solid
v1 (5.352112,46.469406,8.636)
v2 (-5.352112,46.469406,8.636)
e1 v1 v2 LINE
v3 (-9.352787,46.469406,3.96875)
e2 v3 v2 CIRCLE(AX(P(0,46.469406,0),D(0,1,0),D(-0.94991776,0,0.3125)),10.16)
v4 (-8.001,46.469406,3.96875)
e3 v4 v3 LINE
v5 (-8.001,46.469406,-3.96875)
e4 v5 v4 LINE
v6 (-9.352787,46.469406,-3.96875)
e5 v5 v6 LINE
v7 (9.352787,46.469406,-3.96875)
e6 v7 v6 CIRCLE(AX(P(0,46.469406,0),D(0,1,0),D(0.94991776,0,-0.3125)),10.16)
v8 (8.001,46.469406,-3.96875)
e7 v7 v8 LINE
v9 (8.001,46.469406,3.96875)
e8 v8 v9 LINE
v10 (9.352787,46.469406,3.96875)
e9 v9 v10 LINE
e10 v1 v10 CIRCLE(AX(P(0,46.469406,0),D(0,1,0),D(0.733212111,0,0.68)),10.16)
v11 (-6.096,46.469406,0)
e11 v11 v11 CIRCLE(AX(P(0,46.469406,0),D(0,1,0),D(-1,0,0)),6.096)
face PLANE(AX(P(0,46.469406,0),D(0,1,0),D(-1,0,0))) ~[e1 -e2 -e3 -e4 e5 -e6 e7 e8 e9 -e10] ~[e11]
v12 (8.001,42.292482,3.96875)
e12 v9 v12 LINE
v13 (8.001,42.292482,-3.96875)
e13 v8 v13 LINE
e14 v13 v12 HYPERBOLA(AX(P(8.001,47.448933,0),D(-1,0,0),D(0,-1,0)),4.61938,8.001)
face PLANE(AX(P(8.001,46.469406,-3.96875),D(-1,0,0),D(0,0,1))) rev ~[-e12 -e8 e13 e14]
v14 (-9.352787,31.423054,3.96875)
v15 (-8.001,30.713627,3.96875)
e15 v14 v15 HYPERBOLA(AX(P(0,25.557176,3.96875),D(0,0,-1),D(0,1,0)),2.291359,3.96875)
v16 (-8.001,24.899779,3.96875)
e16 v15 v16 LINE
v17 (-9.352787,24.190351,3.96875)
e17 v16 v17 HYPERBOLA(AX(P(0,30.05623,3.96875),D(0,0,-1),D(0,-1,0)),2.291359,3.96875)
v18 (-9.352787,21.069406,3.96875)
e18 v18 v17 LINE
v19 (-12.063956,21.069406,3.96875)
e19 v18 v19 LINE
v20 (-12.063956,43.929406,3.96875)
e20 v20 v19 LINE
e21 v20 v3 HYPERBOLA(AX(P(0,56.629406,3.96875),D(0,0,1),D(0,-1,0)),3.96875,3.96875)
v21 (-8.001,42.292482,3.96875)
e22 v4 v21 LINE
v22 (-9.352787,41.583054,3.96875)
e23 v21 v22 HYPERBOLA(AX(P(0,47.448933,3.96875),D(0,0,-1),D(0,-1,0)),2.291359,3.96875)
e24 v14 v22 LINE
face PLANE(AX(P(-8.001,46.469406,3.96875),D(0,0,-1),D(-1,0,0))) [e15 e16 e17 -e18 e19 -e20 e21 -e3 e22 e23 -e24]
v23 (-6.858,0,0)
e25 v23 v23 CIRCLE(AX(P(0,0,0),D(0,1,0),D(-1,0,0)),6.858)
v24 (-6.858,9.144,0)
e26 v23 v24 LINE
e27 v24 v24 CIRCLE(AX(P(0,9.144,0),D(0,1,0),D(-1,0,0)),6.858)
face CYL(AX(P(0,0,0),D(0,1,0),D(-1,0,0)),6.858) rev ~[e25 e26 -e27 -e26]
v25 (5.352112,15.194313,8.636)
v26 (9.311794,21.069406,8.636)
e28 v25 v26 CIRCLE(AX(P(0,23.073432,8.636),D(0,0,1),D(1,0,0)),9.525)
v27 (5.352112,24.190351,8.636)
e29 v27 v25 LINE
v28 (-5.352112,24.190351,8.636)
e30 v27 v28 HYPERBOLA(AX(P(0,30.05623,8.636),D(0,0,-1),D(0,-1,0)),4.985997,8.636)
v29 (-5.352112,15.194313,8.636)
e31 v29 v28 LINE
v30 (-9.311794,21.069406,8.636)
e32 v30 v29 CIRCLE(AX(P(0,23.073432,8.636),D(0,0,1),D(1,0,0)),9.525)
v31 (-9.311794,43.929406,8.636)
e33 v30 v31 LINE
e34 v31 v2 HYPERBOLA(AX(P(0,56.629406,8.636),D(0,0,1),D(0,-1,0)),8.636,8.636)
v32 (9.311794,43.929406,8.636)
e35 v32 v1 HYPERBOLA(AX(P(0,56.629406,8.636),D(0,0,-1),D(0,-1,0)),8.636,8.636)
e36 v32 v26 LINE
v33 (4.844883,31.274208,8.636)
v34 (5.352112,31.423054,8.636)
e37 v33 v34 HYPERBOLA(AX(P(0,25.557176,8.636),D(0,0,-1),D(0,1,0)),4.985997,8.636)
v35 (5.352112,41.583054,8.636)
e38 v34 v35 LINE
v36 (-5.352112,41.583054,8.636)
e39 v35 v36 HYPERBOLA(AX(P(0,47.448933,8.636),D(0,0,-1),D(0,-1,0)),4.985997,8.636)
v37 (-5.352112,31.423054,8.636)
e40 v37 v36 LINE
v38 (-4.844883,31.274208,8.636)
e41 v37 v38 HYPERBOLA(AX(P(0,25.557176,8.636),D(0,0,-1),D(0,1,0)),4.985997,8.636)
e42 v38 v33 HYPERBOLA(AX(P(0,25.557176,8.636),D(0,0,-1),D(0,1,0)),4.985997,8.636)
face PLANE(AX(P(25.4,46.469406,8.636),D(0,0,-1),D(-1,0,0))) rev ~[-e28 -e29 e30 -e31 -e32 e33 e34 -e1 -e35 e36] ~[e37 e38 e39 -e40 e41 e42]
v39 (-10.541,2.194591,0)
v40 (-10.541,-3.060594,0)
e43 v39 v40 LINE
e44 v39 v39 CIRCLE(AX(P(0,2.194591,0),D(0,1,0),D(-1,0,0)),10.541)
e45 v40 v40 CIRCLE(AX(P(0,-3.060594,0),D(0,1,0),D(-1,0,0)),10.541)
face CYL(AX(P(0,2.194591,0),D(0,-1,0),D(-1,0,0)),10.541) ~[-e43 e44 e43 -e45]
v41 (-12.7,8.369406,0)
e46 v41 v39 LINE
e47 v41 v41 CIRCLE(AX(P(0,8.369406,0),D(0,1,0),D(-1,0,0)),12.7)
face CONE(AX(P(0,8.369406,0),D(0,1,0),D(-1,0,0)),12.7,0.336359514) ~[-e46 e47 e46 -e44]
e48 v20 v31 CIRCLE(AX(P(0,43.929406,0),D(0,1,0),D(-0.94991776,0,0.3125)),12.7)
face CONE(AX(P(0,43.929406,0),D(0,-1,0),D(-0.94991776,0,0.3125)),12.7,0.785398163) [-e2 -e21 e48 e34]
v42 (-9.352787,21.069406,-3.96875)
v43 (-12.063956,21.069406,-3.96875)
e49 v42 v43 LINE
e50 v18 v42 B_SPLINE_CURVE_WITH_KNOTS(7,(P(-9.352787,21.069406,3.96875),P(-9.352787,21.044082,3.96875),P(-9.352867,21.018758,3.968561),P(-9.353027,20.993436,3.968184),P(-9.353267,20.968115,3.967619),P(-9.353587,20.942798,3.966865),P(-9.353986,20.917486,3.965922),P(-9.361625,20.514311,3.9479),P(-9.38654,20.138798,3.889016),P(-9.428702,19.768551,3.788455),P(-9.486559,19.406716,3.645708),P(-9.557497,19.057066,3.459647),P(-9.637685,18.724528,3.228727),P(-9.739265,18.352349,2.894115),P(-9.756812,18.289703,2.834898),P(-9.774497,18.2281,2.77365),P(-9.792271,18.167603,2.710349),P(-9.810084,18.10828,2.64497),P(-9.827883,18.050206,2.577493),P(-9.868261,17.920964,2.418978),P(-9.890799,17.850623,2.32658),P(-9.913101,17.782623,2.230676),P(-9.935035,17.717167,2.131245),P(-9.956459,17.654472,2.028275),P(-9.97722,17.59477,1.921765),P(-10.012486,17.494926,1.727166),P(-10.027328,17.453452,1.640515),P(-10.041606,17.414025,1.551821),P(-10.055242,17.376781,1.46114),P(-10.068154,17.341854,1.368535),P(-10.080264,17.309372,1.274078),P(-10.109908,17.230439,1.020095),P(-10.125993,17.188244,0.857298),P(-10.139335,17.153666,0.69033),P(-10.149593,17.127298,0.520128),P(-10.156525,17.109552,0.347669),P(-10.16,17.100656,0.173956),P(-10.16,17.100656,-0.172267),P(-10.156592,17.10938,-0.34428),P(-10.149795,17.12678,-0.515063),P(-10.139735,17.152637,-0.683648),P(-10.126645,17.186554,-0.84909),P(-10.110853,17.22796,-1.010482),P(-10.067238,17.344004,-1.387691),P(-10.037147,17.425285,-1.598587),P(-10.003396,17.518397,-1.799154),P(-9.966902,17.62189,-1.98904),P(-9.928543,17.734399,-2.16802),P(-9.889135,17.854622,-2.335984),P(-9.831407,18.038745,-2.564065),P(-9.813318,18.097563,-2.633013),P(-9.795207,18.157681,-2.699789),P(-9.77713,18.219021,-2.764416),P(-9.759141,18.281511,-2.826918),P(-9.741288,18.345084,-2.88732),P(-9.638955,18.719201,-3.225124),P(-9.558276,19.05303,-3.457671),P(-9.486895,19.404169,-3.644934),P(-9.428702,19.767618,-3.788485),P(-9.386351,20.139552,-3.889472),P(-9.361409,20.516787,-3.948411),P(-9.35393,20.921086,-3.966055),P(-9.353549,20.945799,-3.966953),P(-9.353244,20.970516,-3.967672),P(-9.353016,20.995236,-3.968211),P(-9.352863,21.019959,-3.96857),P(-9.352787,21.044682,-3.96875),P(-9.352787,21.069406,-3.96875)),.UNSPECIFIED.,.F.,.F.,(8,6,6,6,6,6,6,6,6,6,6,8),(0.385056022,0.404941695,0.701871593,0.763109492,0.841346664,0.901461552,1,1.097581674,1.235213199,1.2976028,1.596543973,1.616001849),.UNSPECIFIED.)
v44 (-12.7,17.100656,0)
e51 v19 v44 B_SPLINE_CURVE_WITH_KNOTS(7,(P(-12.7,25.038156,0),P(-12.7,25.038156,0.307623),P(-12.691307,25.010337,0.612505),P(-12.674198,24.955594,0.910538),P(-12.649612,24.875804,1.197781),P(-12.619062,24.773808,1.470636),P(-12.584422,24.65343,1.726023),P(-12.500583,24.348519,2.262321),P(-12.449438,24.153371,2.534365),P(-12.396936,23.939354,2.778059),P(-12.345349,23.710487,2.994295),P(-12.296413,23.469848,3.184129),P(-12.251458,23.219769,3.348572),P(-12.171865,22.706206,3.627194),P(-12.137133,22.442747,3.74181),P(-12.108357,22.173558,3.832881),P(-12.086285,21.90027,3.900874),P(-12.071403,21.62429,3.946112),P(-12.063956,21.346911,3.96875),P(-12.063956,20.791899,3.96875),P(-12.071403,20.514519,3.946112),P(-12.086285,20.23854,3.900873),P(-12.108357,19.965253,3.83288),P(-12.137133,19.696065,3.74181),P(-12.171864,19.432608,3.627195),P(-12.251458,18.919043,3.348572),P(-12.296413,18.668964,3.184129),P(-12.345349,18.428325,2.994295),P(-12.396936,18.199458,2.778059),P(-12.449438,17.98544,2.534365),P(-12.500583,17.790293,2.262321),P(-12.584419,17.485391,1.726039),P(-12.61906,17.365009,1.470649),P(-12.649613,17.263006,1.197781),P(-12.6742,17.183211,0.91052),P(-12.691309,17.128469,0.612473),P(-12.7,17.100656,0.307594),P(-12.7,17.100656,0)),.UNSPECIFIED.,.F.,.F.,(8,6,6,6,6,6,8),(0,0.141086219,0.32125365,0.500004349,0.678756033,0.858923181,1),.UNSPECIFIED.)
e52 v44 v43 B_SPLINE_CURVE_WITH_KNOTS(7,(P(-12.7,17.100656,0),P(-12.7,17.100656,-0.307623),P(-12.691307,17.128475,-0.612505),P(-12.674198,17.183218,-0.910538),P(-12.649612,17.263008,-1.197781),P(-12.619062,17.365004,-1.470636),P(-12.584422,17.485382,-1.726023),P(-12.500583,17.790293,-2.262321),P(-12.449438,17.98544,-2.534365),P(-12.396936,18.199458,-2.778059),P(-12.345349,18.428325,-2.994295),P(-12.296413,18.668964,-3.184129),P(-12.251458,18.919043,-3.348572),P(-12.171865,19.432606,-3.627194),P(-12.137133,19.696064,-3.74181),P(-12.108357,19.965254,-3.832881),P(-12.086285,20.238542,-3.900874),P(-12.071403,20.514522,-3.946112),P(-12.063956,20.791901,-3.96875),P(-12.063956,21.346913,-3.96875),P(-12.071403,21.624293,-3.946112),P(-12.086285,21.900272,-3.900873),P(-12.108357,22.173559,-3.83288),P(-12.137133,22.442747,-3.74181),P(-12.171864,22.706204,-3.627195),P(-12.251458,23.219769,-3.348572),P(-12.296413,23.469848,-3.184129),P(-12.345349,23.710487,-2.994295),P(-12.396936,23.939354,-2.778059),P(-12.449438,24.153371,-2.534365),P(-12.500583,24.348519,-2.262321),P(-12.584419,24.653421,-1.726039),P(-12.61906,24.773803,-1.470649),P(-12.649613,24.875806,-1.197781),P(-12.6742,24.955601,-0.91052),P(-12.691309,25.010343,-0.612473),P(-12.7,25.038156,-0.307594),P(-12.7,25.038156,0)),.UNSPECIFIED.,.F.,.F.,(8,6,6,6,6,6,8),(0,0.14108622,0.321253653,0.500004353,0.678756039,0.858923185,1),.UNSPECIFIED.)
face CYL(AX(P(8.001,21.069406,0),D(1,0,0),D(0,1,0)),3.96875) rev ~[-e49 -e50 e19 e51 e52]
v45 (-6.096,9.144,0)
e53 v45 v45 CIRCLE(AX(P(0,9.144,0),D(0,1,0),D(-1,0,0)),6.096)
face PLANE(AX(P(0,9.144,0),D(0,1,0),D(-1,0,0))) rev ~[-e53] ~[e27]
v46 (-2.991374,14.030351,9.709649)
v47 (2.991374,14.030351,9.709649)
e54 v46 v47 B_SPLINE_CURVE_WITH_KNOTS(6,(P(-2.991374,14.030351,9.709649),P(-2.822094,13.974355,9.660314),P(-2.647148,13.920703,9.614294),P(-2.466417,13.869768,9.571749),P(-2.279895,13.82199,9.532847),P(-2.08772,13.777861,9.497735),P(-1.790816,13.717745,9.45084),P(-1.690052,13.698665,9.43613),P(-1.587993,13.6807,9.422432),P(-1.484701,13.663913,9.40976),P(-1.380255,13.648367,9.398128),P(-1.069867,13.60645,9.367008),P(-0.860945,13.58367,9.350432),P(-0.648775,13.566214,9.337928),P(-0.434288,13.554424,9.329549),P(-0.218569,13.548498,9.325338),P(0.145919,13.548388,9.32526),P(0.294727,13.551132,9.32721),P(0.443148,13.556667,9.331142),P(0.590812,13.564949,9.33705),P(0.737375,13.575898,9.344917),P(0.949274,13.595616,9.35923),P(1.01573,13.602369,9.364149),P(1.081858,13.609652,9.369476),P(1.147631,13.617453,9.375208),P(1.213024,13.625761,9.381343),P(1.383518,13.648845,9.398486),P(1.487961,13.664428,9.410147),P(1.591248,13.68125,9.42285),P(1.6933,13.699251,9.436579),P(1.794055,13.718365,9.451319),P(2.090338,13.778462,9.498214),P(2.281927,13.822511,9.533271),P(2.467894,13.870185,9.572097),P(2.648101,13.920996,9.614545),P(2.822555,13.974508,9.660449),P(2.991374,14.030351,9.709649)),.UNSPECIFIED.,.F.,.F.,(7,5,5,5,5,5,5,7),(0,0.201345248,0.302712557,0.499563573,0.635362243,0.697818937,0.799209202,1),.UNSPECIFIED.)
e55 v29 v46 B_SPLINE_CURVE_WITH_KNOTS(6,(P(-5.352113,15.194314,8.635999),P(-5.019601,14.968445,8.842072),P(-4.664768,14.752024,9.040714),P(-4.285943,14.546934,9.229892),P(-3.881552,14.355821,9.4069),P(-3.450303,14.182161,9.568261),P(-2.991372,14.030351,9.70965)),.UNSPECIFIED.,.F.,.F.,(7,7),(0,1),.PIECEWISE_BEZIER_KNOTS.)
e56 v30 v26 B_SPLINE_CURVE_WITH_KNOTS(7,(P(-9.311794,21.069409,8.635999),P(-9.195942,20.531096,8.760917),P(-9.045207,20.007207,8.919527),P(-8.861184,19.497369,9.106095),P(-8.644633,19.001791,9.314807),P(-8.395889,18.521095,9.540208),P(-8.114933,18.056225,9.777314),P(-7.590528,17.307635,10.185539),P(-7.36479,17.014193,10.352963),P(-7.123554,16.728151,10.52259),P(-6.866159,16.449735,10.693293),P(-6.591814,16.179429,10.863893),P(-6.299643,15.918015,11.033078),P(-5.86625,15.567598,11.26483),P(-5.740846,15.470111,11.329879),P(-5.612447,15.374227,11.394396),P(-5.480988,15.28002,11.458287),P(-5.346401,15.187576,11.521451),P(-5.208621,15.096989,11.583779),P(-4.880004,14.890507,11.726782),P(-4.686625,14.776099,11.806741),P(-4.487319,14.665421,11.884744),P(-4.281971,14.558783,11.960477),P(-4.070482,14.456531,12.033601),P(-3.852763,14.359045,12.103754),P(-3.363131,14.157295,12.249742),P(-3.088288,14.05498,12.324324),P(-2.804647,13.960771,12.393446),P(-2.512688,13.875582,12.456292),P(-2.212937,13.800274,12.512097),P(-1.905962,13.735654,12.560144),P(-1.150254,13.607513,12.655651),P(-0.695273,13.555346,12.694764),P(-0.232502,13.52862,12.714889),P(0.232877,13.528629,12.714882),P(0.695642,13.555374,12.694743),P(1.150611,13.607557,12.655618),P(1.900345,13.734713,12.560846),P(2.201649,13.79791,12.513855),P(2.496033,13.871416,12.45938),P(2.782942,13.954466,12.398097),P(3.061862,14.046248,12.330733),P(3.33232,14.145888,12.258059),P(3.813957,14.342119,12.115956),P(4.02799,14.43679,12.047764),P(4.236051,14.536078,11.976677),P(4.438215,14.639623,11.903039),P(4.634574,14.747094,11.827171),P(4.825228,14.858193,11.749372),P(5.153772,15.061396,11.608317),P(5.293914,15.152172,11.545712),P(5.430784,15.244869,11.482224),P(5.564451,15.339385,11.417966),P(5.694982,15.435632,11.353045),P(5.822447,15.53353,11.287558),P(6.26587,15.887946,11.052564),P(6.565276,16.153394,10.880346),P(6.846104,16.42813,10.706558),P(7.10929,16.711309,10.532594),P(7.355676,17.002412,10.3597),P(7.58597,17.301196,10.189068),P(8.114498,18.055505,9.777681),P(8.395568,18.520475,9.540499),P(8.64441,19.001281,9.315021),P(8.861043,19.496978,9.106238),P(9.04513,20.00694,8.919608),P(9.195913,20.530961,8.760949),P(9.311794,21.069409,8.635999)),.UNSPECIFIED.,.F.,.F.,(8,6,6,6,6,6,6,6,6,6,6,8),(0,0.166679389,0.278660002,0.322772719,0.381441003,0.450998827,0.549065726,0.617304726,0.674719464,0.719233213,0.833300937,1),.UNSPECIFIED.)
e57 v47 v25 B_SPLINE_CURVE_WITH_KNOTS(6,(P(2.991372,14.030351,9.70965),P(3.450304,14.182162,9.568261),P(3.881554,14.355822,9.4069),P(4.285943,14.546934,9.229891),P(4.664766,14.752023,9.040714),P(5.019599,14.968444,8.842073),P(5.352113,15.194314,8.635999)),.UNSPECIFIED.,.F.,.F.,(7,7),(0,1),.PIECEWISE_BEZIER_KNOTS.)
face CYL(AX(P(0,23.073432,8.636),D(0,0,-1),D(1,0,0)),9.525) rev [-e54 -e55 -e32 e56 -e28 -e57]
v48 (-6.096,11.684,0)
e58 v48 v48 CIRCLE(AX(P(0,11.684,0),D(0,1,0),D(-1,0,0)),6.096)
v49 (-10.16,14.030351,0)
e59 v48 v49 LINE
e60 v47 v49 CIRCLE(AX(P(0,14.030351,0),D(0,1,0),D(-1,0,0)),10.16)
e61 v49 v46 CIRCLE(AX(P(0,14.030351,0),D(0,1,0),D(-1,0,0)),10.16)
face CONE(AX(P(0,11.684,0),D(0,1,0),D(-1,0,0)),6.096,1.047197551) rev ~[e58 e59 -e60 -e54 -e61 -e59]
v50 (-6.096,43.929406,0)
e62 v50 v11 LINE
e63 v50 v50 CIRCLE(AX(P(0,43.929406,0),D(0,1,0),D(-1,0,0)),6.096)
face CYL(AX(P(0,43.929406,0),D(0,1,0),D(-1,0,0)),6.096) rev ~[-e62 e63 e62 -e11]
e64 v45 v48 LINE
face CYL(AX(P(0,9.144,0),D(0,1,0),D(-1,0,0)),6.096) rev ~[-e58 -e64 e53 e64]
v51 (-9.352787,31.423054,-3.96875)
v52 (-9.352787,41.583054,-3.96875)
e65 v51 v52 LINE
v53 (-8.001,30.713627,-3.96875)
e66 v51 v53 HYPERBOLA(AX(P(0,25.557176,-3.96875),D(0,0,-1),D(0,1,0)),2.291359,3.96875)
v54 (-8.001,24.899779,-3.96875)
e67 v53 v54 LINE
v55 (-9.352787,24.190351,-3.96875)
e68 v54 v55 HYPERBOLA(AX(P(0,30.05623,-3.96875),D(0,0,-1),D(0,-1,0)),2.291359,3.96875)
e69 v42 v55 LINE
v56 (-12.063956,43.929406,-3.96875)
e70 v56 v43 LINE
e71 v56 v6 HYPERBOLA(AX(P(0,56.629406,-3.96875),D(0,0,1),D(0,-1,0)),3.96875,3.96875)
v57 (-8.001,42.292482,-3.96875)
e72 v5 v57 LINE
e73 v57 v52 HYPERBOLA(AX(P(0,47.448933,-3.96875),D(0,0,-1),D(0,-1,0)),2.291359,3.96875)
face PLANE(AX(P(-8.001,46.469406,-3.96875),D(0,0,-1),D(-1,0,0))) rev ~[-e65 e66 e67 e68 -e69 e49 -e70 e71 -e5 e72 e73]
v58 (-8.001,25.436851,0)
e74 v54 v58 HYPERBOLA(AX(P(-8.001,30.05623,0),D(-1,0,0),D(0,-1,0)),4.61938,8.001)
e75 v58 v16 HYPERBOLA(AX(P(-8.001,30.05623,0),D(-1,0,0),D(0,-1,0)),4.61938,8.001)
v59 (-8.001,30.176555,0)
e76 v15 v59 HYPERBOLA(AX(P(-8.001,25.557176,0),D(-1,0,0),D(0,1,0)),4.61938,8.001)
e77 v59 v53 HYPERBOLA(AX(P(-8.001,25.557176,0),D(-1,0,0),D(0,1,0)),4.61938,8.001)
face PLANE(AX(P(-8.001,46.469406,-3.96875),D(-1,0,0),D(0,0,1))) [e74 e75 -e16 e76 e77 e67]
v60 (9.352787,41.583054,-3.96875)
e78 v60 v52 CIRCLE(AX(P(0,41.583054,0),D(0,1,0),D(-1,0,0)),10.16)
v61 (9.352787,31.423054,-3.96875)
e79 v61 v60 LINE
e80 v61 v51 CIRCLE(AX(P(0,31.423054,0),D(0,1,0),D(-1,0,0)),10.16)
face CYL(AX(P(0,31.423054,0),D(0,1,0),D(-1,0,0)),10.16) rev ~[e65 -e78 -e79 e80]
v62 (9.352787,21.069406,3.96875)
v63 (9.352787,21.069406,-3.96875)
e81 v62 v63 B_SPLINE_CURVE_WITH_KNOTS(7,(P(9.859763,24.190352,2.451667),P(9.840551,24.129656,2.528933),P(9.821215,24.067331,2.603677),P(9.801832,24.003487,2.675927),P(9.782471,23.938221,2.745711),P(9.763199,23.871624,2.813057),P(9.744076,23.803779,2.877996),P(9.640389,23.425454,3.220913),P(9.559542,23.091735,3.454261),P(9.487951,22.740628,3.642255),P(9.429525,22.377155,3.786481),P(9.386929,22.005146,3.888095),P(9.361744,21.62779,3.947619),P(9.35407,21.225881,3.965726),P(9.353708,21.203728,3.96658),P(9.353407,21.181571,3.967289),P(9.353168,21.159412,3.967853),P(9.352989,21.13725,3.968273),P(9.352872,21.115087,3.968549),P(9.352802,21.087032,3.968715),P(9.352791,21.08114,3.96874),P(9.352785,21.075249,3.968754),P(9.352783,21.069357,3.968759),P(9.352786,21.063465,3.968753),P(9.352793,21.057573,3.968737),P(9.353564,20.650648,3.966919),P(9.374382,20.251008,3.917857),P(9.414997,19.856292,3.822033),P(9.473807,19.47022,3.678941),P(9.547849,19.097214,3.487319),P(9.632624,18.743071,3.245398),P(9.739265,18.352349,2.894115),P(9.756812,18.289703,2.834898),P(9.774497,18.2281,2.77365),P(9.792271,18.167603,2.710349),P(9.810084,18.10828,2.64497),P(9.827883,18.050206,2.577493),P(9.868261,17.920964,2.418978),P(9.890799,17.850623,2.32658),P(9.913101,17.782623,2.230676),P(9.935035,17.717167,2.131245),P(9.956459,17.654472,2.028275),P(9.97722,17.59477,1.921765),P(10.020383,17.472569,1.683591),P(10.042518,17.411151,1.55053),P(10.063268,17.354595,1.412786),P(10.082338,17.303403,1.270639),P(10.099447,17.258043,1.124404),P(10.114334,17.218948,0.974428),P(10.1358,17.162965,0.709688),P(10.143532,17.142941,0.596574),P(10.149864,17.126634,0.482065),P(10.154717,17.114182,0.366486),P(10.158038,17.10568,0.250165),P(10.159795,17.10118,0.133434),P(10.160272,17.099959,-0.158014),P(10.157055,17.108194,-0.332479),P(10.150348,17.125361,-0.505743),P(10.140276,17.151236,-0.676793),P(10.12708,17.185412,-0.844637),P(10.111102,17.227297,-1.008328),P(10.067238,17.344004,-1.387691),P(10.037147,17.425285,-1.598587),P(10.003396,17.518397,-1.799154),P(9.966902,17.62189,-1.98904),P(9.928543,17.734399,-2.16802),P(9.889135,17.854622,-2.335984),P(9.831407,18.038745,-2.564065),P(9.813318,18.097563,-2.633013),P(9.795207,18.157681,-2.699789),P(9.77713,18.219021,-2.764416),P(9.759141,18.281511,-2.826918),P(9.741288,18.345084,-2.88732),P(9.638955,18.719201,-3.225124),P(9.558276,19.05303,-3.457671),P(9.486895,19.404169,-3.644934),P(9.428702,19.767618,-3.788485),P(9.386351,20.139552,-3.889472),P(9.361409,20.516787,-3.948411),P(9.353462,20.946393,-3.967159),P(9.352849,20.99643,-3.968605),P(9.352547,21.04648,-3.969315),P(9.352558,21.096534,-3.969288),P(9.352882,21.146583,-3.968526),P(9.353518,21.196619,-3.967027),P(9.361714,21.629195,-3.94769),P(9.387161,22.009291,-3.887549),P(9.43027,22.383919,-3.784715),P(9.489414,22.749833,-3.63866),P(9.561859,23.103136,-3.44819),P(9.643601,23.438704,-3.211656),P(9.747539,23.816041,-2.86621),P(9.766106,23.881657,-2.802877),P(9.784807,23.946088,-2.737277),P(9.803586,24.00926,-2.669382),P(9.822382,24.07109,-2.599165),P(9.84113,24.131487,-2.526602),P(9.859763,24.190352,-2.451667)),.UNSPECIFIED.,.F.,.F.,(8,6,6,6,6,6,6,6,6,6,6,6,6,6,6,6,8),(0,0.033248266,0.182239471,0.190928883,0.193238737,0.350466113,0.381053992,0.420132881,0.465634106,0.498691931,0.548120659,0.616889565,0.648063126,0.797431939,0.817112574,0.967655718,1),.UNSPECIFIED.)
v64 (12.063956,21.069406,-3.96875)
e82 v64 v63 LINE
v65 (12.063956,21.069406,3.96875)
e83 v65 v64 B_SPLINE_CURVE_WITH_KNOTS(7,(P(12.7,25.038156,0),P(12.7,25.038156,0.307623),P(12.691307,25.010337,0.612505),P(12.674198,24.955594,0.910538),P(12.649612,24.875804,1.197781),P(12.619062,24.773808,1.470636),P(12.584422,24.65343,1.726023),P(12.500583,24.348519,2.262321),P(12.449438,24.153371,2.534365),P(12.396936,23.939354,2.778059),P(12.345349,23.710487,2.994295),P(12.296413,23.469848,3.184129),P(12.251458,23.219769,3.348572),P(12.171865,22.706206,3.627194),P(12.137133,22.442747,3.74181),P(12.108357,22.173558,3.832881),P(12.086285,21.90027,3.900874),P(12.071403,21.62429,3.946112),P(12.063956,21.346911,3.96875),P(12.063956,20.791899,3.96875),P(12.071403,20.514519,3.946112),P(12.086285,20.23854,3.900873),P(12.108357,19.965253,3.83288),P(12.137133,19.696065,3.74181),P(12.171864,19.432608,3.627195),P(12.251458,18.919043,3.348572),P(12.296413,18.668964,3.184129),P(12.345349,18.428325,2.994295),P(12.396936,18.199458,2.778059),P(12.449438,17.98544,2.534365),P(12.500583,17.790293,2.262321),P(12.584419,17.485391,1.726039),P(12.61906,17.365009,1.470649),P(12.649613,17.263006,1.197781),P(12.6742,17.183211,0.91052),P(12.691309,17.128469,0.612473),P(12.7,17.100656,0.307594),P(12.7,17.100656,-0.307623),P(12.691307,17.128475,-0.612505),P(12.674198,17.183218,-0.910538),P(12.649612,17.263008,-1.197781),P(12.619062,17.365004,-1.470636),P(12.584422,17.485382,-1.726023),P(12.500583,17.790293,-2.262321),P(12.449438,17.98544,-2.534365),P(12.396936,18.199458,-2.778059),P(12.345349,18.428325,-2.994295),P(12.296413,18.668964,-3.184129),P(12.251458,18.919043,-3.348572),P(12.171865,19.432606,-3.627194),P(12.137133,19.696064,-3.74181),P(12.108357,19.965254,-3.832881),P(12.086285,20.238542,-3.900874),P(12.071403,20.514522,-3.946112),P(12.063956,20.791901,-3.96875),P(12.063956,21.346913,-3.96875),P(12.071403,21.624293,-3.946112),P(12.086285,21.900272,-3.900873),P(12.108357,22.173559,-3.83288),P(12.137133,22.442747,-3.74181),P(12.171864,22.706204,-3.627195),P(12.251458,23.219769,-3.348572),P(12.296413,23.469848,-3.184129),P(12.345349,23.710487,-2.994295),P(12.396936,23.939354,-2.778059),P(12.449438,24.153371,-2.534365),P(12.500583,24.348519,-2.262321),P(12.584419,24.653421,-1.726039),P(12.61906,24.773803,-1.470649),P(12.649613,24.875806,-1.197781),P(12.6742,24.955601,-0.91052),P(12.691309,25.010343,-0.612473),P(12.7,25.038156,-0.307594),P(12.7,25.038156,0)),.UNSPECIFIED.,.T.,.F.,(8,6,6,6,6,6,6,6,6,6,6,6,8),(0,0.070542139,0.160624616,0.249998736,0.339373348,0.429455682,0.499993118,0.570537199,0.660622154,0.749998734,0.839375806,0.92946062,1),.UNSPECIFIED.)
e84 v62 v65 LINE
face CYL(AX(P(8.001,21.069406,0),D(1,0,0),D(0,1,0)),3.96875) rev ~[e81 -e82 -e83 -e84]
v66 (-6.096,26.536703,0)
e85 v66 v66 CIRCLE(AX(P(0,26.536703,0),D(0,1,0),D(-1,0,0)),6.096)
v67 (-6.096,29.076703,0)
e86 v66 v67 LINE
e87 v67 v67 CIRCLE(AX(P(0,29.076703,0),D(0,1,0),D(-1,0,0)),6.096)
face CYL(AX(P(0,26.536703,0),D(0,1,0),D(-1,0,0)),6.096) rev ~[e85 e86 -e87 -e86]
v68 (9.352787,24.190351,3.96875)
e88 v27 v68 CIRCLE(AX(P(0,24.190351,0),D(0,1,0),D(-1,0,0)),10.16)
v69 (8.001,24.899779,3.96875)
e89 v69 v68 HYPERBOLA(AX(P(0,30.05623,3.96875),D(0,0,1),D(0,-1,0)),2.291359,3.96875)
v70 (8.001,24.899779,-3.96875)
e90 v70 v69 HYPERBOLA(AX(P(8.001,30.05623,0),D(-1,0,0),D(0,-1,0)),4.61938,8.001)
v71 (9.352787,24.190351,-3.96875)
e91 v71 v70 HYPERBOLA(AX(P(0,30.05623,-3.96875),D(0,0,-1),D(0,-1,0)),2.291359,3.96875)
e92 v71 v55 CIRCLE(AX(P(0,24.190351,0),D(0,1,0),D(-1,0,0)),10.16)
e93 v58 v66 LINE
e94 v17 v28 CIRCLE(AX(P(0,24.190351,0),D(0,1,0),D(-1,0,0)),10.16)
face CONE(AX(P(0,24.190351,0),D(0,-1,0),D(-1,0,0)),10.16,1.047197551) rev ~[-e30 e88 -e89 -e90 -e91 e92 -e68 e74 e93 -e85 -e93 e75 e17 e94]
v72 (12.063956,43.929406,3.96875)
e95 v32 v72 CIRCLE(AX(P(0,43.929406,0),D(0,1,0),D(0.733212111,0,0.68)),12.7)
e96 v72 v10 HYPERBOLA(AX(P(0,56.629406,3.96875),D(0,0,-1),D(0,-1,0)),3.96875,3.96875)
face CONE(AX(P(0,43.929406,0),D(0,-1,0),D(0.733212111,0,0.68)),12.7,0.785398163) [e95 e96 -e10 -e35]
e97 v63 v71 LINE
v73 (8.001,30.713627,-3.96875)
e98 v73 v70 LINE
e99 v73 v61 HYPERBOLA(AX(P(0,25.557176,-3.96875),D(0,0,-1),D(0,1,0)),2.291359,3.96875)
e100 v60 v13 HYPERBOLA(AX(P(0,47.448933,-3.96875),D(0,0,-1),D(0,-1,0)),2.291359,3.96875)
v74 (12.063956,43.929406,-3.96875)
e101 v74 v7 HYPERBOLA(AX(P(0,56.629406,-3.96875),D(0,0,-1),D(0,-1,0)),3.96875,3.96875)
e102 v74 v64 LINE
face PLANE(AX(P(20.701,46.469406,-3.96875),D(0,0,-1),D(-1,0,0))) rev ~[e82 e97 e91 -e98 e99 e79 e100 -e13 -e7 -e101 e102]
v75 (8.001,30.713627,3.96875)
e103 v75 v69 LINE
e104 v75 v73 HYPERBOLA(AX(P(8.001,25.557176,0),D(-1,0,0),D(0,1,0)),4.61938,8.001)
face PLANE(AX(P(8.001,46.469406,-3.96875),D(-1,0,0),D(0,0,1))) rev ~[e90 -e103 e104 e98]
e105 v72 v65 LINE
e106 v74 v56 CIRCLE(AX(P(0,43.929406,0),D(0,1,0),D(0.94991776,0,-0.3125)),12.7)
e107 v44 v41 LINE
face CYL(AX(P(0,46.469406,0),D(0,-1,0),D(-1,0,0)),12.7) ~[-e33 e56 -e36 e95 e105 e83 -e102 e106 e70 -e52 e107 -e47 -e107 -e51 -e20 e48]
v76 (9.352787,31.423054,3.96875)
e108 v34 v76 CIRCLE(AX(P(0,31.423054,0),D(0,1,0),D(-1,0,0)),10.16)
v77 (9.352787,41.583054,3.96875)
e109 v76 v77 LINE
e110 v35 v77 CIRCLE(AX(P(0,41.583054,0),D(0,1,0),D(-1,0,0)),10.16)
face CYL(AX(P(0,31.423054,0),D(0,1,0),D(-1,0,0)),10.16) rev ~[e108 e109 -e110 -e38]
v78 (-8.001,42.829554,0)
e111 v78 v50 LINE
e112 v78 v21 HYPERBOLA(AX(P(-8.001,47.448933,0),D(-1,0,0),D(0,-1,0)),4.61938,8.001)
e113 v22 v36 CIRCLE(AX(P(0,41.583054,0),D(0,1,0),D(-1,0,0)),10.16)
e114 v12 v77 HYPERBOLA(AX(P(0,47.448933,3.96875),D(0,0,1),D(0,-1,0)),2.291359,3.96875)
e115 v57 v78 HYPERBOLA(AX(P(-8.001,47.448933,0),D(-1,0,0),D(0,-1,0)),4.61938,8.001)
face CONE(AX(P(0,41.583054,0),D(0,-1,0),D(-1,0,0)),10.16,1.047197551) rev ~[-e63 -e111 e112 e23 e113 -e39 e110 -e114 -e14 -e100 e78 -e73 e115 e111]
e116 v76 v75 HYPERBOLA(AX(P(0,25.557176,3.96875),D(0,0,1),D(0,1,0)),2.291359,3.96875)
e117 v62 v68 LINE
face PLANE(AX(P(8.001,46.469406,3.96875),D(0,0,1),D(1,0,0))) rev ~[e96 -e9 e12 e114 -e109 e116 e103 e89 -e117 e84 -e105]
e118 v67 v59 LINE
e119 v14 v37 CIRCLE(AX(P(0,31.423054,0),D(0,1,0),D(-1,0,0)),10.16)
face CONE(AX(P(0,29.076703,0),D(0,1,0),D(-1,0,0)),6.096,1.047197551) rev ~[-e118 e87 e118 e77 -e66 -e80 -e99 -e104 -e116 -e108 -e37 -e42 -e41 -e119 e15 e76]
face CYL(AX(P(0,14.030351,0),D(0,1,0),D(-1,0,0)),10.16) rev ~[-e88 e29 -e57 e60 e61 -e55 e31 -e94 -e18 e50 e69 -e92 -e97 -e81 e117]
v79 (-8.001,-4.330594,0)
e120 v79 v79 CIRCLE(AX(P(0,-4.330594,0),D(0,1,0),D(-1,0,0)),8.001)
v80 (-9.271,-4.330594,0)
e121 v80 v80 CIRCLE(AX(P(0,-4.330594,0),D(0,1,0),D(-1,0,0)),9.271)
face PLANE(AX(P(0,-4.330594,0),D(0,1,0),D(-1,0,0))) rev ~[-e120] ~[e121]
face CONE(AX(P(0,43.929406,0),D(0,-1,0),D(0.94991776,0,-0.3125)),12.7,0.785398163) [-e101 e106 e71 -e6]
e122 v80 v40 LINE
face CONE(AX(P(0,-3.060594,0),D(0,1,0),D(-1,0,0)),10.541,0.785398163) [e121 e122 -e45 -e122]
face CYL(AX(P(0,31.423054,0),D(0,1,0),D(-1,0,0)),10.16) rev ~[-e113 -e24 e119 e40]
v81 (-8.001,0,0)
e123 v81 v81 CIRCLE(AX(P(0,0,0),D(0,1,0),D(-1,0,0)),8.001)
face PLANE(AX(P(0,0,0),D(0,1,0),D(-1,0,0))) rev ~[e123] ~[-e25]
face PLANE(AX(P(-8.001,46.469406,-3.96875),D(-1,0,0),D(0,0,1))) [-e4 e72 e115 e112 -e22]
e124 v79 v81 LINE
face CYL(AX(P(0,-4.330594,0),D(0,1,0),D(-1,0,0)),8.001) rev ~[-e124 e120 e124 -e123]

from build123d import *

# Parameters (mm, degrees)
F3_DEPTH  = 25.4
F4_W      = 12.7
F4_H      = 7.9375
F5_DEPTH  = 25.4
F6_SIZE   = 2.54
F7_R      = 9.525
F8_DEPTH  = 25.4
F9_SIZE   = 1.27
F10_R     = 3.96875
F11_DEPTH = 25.4


with BuildPart() as f1:
    # F0 (on Top) → F1 (revolve)
    with BuildSketch(Plane.XY):
        Polygon((-12.7, 8.3694059759), (-10.541, 2.1945910865), (-10.541, -4.3305940241), (-8.001, -4.3305940241), (-8.001, 0), (-6.858, 0), (-6.858, 9.144), (-6.096, 9.144), (-6.096, 11.684), (-10.16, 14.030351494), (-10.16, 24.190351494), (-6.096, 26.536702988), (-6.096, 29.076702988), (-10.16, 31.423054482), (-10.16, 41.583054482), (-6.096, 43.9294059759), (-6.096, 46.4694059759), (-12.7, 46.4694059759), align=None)
    revolve(axis=Axis((0, 65.4240736527, 0), (0, 1, 0)))

    # F2 (on face) → F3 (cut)
    with BuildSketch(Plane(origin=(0, 46.4694059759, 0), x_dir=(-1, 0, 0), z_dir=(0, 1, 0))):
        Polygon((-25.4, 8.636), (0, 8.636), (25.4, 8.636), (25.4, 25.7254446054), (-25.4, 25.7254446054), align=None)
    extrude(amount=-F3_DEPTH, mode=Mode.SUBTRACT)

    # F4 (on face) → F5 (cut)
    with BuildSketch(Plane(origin=(0, 46.4694059759, 0), x_dir=(-1, 0, 0), z_dir=(0, 1, 0))):
        Polygon((-8.001, 0), (-8.001, 3.96875), (-20.701, 3.96875), (-20.701, -3.96875), (-8.001, -3.96875), align=None)
        with Locations((14.351, 0)):
            Rectangle(F4_W, F4_H)
    extrude(amount=-F5_DEPTH, mode=Mode.SUBTRACT)

    # F6
    f6_edges = [f1.edges().sort_by_distance(p)[0] for p in [
        (10.939674, 46.469406, 6.450855),
        (0, 46.469406, -12.7),
        (-10.939674, 46.469406, 6.450855),
    ]]
    chamfer(f6_edges, length=F6_SIZE)

    # F7 (on face) → F8 (cut)
    with BuildSketch(Plane.XY.offset(8.636)):
        with Locations((0, 23.0734321734)):
            Circle(F7_R)
    extrude(amount=F8_DEPTH, mode=Mode.SUBTRACT)

    # F9
    f9_edges = [f1.edges().sort_by_distance(p)[0] for p in [
        (10.541, -4.330594, 0),
    ]]
    chamfer(f9_edges, length=F9_SIZE)

    # F10 (on face) → F11 (cut, symmetric)
    with BuildSketch(Plane.YZ.offset(8.001)):
        with Locations((21.0694059759, 0)):
            Circle(F10_R)
    extrude(amount=F11_DEPTH, both=True, mode=Mode.SUBTRACT)


solid = f1.part
